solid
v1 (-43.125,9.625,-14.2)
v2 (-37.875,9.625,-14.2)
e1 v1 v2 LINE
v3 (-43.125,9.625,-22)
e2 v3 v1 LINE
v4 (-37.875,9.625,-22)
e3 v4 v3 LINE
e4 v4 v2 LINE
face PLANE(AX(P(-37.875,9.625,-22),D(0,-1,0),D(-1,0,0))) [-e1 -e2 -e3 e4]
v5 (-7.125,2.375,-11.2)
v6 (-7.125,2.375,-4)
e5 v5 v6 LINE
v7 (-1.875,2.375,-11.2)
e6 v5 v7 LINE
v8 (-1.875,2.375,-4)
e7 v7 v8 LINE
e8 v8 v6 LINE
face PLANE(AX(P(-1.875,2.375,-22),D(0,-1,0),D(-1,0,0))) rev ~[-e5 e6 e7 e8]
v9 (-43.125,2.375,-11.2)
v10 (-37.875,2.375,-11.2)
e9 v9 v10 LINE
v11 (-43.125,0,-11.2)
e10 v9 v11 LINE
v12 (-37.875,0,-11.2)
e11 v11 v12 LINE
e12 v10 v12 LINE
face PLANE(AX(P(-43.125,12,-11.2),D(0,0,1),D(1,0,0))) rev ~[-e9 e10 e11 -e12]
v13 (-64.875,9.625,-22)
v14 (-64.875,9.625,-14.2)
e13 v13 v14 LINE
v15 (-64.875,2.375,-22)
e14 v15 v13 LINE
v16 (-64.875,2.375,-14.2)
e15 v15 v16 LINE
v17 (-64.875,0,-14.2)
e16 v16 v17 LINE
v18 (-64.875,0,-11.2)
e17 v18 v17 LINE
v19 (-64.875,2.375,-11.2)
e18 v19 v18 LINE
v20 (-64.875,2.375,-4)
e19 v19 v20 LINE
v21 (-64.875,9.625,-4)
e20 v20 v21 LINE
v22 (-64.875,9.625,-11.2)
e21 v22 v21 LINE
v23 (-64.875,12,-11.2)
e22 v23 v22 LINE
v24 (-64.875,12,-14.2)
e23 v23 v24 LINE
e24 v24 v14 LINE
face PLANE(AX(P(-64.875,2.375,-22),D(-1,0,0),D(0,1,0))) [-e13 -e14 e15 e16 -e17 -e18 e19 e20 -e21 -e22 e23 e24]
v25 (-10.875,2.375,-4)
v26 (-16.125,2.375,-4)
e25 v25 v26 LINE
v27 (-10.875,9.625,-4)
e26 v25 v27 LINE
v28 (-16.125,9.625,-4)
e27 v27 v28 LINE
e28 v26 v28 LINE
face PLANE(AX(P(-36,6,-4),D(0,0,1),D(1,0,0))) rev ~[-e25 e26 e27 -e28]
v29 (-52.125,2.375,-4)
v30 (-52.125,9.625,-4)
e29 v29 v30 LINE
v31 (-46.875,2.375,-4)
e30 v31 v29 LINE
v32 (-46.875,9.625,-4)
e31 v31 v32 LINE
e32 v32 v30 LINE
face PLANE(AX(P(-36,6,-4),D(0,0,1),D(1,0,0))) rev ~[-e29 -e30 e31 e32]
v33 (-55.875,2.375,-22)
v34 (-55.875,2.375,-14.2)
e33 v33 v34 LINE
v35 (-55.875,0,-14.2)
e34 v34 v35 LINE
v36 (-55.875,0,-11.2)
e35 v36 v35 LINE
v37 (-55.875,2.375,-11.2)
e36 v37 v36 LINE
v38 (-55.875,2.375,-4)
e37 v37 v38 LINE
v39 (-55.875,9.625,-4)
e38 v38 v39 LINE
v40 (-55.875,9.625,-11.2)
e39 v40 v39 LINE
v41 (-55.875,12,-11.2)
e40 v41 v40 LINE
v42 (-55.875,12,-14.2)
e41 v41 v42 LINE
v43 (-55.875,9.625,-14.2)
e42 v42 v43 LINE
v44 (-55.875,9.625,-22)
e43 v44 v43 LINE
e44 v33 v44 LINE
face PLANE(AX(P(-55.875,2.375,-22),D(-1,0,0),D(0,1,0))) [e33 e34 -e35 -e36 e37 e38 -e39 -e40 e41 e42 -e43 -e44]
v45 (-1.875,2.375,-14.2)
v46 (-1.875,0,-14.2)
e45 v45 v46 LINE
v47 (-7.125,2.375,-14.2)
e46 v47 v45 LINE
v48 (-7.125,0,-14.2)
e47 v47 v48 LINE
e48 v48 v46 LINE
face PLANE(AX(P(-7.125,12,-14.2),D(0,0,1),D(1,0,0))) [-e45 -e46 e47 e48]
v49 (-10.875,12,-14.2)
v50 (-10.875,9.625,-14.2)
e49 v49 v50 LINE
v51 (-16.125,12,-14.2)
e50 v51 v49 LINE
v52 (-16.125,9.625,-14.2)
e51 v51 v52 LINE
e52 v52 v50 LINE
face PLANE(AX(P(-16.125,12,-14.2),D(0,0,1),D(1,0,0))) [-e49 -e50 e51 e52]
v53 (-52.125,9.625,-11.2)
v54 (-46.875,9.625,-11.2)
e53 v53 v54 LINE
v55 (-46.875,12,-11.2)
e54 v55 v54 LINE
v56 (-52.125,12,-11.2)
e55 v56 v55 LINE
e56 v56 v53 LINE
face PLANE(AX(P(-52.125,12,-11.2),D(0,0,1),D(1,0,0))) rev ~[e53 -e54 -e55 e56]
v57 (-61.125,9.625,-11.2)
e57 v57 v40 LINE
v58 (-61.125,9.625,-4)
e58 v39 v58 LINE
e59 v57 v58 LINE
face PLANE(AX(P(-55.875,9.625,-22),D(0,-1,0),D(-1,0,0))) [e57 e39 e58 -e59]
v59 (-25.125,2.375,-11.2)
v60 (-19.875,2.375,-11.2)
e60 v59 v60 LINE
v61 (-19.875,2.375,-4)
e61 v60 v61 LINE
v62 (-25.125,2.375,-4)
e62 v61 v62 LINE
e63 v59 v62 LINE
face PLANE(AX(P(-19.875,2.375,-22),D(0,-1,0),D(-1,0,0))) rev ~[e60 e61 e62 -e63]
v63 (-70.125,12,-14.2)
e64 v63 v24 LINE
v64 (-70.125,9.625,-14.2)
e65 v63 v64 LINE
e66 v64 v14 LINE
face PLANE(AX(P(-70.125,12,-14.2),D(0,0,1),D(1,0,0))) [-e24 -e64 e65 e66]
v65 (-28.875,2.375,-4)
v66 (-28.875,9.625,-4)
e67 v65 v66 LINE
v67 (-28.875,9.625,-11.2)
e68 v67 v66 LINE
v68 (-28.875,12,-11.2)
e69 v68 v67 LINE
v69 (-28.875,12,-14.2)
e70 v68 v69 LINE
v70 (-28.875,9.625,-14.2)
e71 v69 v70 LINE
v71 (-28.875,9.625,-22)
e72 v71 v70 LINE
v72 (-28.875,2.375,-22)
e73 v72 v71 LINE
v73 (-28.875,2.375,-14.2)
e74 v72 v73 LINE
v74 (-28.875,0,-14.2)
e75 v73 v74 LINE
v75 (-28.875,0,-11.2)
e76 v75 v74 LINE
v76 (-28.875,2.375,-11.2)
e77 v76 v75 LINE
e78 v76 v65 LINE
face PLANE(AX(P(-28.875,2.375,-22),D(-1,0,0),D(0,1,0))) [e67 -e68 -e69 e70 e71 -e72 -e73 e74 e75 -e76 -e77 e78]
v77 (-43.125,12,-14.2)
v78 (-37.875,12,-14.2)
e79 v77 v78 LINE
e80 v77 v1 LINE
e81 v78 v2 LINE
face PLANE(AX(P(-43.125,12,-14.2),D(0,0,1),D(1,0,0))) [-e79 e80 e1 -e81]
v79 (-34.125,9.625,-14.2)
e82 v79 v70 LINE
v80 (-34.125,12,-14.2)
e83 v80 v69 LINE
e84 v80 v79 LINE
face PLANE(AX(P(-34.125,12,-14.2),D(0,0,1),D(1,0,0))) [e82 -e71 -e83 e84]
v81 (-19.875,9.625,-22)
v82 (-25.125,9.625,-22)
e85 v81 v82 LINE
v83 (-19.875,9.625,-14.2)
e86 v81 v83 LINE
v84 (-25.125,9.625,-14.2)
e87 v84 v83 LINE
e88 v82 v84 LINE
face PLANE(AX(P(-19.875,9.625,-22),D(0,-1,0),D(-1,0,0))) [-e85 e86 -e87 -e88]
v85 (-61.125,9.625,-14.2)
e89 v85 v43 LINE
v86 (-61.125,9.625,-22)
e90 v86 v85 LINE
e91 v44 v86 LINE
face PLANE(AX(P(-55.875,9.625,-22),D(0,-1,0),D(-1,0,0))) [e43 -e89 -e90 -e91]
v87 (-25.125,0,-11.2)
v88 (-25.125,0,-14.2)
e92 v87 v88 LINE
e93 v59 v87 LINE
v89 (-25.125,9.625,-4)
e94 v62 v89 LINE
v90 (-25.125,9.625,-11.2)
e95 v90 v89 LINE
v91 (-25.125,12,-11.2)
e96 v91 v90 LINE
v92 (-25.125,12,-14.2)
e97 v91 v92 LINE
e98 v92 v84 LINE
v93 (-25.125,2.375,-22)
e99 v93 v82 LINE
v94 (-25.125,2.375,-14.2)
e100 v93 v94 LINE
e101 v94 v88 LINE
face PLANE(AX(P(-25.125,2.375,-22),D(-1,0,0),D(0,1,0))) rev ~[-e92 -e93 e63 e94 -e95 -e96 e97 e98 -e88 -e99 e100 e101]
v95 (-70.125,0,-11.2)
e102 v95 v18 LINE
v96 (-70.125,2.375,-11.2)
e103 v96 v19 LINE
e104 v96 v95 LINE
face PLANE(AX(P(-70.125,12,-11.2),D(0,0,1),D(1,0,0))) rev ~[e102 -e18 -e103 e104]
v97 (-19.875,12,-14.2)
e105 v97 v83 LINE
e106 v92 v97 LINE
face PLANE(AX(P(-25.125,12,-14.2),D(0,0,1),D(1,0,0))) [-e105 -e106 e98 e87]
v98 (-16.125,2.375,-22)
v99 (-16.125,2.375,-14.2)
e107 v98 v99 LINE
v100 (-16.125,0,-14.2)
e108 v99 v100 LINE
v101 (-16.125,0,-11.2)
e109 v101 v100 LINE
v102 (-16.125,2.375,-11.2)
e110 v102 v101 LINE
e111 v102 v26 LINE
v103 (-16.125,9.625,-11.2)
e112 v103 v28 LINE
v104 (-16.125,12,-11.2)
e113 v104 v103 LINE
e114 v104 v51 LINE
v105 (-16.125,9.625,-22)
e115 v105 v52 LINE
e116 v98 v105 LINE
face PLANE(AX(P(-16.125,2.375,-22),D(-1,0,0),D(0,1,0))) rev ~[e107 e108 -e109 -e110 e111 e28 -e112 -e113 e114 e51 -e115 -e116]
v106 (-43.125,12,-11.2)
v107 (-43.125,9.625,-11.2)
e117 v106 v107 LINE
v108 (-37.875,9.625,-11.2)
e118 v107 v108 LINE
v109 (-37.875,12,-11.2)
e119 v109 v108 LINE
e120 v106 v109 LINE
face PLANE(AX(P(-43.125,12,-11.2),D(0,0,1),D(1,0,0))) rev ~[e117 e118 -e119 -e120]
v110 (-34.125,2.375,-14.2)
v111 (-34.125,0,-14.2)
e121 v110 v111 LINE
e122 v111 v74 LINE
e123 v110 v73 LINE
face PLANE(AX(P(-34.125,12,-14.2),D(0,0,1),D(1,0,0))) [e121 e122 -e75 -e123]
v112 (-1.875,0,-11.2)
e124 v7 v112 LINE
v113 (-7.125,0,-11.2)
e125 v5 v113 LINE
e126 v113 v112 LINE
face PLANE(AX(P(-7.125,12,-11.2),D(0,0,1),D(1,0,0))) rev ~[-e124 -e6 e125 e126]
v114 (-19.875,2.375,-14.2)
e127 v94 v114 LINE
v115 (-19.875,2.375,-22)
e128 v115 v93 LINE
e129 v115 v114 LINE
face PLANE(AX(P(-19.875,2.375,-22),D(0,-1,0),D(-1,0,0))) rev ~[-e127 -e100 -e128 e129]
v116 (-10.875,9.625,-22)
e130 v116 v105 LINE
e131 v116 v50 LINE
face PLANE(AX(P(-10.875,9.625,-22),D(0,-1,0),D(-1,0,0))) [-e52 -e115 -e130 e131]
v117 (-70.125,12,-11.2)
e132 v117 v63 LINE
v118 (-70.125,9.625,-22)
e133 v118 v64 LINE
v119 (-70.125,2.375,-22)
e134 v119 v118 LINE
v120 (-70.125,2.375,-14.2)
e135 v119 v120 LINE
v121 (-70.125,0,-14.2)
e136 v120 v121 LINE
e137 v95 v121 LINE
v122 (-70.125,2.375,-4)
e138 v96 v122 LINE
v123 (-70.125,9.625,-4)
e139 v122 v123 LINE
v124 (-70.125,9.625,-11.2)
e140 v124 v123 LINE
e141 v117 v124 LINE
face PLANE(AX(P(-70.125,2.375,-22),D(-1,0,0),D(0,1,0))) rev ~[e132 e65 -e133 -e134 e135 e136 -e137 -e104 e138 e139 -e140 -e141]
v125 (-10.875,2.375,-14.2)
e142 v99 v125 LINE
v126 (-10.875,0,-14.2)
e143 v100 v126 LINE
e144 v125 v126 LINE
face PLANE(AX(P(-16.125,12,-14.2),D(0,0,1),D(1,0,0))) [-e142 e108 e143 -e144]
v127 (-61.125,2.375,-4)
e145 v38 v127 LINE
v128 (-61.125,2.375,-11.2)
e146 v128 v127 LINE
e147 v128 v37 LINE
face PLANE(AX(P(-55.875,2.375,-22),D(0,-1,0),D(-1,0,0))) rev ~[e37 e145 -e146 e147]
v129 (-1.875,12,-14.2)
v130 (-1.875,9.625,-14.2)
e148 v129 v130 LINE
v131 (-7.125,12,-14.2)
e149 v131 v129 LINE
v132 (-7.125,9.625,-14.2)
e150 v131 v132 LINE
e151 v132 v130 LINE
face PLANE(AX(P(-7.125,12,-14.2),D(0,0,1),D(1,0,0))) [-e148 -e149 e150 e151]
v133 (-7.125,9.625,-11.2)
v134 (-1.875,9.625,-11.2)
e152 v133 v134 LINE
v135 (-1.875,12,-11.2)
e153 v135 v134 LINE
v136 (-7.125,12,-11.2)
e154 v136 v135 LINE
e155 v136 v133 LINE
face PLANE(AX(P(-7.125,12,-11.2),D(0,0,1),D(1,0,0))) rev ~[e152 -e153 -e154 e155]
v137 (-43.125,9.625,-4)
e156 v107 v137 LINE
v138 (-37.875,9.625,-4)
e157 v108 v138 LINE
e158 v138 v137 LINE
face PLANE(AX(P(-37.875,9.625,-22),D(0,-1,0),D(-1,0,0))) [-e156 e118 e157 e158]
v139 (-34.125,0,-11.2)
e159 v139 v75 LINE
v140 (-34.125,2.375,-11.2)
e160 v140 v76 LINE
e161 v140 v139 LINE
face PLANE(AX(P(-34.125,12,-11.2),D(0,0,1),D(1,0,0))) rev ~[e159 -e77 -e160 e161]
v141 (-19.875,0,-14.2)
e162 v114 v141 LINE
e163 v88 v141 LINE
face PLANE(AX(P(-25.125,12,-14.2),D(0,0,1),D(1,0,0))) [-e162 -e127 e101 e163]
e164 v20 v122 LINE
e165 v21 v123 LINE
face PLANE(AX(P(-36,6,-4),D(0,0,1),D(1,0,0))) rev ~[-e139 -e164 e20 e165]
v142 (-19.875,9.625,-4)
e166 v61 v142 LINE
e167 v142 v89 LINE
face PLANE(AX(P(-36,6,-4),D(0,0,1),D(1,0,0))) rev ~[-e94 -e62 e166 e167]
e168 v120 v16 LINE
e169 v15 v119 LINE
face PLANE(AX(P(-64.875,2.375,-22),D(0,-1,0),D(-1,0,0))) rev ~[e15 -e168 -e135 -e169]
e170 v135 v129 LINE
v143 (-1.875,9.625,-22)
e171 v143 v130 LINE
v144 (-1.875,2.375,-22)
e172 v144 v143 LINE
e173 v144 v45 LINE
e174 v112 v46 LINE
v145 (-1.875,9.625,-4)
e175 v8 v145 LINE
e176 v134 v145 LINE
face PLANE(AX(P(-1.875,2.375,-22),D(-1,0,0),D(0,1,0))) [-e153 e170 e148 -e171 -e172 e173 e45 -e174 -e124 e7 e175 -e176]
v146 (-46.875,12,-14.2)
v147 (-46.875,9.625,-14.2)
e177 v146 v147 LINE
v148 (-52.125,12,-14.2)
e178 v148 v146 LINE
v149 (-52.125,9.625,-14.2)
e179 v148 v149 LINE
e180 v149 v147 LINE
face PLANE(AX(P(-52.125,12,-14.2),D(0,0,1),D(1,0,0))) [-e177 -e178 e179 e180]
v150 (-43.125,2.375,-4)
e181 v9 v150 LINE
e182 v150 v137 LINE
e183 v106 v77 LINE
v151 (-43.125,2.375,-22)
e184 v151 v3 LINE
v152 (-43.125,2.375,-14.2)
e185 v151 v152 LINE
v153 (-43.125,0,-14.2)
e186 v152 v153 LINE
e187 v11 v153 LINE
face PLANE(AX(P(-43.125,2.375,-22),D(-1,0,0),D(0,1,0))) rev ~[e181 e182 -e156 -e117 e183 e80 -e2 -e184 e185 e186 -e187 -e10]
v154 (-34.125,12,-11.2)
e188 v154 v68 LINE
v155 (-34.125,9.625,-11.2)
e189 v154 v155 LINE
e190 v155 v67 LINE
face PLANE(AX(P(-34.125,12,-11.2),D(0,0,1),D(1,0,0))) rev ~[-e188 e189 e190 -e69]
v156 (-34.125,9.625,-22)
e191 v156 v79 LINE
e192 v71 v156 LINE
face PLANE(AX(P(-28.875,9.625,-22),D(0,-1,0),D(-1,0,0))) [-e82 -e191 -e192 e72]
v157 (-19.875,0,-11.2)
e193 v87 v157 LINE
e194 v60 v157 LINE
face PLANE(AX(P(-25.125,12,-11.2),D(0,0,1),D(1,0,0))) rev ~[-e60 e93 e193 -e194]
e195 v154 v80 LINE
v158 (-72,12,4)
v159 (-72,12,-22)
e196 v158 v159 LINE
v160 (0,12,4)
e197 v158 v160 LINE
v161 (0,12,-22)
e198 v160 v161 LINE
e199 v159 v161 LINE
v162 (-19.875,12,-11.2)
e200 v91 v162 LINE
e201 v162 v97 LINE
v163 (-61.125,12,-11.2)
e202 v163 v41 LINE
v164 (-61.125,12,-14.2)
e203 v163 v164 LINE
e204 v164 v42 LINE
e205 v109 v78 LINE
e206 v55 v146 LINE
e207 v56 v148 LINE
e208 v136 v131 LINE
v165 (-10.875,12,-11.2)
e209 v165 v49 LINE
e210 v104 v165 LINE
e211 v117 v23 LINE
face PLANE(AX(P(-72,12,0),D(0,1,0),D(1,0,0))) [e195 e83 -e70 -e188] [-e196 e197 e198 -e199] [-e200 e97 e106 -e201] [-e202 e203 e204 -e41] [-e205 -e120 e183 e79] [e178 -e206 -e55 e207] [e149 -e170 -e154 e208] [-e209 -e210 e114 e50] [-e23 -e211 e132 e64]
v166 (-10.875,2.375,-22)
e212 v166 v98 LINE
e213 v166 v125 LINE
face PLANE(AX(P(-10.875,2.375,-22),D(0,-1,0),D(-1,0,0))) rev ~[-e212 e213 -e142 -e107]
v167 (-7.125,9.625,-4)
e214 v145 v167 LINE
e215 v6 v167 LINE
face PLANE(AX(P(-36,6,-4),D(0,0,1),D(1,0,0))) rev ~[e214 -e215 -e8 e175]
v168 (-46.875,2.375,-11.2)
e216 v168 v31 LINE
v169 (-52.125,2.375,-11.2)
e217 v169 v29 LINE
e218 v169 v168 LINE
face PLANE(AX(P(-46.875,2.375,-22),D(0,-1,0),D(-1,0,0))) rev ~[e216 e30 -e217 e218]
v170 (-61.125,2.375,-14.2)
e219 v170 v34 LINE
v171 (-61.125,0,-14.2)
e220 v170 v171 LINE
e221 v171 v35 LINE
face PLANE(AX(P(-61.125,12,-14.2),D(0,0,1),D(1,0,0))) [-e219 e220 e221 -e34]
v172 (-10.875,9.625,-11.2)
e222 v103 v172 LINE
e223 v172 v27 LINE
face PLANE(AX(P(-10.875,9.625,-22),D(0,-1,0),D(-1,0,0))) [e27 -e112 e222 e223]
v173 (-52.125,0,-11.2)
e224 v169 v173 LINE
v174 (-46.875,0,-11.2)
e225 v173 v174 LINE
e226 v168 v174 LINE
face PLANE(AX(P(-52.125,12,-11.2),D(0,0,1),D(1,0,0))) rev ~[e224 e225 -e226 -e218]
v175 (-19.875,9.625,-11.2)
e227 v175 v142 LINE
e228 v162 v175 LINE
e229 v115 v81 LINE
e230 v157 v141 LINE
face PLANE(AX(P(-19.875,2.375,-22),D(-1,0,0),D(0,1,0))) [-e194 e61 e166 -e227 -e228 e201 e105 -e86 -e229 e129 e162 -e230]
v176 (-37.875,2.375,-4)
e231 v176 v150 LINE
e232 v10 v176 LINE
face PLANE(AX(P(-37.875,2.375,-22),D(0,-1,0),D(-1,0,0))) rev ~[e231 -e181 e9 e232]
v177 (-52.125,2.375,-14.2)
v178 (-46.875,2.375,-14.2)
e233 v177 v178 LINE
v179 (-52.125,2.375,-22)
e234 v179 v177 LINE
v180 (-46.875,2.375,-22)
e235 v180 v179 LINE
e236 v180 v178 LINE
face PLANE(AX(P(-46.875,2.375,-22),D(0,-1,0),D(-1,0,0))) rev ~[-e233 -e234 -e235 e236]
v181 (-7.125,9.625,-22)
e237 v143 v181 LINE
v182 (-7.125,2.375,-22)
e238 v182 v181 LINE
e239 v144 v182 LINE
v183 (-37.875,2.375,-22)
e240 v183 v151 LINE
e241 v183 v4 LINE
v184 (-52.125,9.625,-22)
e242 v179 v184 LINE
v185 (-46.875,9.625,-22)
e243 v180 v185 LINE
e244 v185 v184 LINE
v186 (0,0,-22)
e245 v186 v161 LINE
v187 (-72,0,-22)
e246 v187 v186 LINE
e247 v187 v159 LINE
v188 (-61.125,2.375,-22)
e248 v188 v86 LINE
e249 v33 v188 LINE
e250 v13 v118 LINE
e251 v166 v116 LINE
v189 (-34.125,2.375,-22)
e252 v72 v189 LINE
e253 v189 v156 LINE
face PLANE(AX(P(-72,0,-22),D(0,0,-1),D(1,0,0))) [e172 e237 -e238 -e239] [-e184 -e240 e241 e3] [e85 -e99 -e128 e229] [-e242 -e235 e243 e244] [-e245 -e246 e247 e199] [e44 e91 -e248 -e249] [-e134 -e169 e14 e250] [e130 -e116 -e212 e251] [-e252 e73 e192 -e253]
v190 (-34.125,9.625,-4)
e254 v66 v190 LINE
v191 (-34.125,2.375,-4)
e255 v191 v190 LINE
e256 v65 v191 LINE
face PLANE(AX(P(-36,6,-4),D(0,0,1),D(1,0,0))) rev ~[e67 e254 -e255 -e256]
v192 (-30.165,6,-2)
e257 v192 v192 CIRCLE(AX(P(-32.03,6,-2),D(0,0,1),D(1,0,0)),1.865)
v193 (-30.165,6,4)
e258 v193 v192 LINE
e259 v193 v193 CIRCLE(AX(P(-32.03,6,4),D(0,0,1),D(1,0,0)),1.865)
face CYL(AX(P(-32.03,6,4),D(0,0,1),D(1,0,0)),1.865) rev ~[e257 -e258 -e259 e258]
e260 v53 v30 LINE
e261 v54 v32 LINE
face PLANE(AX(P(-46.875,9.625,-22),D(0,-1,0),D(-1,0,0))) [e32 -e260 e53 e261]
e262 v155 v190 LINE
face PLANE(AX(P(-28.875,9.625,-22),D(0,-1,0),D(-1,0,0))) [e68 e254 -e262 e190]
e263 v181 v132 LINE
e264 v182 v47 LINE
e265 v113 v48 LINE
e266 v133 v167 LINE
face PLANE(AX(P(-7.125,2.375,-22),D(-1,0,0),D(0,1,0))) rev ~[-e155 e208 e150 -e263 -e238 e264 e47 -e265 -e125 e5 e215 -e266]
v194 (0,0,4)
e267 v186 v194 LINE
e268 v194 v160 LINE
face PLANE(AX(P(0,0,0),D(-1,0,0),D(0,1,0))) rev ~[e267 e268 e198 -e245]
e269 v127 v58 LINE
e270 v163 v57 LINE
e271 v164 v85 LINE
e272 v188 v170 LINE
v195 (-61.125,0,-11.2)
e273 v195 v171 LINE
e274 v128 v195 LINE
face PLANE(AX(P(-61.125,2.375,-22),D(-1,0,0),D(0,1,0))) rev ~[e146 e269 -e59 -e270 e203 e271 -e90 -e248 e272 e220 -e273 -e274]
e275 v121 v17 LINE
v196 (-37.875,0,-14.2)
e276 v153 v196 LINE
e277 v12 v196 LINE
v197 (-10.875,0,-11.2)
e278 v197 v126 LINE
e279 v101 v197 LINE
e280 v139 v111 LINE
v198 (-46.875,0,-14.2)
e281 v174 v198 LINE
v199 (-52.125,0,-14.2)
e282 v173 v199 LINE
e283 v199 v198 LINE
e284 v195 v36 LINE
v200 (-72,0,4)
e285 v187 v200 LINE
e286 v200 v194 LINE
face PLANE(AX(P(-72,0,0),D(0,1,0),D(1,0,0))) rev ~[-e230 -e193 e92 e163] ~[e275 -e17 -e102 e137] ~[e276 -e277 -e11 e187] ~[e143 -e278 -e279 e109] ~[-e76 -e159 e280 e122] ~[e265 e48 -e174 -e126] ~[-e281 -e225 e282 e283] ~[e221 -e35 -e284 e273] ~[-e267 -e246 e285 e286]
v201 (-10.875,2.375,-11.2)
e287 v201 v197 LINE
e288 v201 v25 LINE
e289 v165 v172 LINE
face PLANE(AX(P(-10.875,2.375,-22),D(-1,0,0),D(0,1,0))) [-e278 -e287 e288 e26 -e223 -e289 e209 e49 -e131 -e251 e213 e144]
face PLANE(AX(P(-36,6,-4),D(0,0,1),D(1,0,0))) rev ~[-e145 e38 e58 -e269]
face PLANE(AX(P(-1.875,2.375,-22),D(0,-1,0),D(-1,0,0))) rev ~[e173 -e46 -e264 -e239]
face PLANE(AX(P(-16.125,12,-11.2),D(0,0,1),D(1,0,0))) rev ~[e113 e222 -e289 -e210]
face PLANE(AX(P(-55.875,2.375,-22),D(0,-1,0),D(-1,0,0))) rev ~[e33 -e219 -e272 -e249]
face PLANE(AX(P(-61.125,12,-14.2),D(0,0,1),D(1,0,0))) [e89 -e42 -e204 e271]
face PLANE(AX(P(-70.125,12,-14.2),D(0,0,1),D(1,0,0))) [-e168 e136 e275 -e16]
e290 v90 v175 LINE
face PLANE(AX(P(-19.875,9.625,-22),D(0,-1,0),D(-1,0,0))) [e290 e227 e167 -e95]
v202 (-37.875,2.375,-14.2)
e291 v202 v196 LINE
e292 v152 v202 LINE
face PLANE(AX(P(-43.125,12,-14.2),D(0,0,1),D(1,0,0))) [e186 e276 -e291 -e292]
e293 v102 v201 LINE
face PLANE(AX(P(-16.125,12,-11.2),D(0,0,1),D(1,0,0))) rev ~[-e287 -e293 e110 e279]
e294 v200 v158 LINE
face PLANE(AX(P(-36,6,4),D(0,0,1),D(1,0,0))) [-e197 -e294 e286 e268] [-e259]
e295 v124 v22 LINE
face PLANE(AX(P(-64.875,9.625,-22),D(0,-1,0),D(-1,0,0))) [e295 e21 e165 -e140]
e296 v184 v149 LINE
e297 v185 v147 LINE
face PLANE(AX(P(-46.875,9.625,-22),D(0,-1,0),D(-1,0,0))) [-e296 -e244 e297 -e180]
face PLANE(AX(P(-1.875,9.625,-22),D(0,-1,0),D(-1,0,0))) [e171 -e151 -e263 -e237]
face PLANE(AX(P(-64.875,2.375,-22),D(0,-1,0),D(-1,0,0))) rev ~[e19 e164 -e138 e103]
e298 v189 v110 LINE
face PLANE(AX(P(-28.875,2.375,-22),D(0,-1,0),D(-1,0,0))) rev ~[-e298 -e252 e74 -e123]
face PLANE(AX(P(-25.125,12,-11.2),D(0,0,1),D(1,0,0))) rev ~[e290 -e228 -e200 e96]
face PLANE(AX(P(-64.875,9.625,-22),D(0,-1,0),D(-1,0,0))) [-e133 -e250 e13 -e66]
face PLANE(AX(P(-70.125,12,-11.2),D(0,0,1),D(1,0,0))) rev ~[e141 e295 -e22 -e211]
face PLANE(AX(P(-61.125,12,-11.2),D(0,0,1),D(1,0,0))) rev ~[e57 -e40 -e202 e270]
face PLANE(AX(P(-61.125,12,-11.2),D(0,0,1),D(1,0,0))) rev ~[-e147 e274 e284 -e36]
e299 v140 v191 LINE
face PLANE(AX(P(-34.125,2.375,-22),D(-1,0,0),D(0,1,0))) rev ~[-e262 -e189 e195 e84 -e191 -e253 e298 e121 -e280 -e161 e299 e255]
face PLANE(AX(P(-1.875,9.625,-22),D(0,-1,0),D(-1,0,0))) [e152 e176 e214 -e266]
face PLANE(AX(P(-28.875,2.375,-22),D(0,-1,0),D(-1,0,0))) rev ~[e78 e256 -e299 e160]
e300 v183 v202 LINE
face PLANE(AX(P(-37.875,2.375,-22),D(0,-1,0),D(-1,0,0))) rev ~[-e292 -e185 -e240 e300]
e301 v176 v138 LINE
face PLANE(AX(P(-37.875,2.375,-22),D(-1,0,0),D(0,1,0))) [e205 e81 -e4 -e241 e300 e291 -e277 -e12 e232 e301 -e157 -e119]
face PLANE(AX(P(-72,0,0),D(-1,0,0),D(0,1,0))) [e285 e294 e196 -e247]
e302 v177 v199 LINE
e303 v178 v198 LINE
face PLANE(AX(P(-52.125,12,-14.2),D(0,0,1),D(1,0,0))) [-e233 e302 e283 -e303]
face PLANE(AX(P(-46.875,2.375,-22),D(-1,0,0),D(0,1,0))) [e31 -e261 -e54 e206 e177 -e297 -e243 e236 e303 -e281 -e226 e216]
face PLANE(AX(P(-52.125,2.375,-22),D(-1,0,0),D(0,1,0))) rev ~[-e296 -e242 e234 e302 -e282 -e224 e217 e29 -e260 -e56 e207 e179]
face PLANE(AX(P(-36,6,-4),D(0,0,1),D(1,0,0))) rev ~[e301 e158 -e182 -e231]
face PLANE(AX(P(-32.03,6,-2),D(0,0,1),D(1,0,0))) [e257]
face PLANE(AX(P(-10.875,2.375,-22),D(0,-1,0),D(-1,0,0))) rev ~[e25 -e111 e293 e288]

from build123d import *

# Parameters (mm, degrees)
SKETCH1_W           = 72
SKETCH1_H           = 22
BOSS_EXTRUDE1_DEPTH = 12
SKETCH2_W           = 5.25
SKETCH2_H           = 3
CUT_EXTRUDE1_DEPTH  = 77.23647421
LPATTERN2_COUNT     = 8
LPATTERN2_PITCH     = 9
SKETCH3_W           = 5.25
SKETCH3_H           = 7.25
CUT_EXTRUDE2_DEPTH  = 77.23647421
LPATTERN3_COUNT     = 8
LPATTERN3_PITCH     = 9
SKETCH4_W           = 72
SKETCH4_H           = 12
BOSS_EXTRUDE2_DEPTH = 4
SKETCH11_W          = 72
SKETCH11_H          = 12
BOSS_EXTRUDE3_DEPTH = 4
SKETCH12_R          = 1.865
CUT_EXTRUDE9_DEPTH  = 6


with BuildPart() as part:
    # Sketch1 → Boss-Extrude1 (new body)
    with BuildSketch(Plane(origin=(0, 0, 0), x_dir=(1, 0, 0), z_dir=(0, 1, 0))):
        with Locations((-36, 11)):
            Rectangle(SKETCH1_W, SKETCH1_H)
    extrude(amount=BOSS_EXTRUDE1_DEPTH)

    # Sketch2 → Cut-Extrude1 (cut, through all)
    with BuildSketch(Plane(origin=(0, 12, 0), x_dir=(1, 0, 0), z_dir=(0, 1, 0))):
        with Locations((-67.5, 12.7)):
            Rectangle(SKETCH2_W, SKETCH2_H)
    cut_extrude1 = extrude(amount=-CUT_EXTRUDE1_DEPTH, mode=Mode.SUBTRACT)

    # LPattern2: Cut-Extrude1 ×8
    with Locations(*[(i * LPATTERN2_PITCH, 0, 0) for i in range(1, LPATTERN2_COUNT)]):
        add(cut_extrude1, mode=Mode.SUBTRACT)

    # Sketch3 → Cut-Extrude2 (cut, through all)
    with BuildSketch(Plane(origin=(0, 0, -22), x_dir=(-1, 0, 0), z_dir=(0, 0, -1))):
        with Locations((67.5, 6)):
            Rectangle(SKETCH3_W, SKETCH3_H)
    cut_extrude2 = extrude(amount=-CUT_EXTRUDE2_DEPTH, mode=Mode.SUBTRACT)

    # LPattern3: Cut-Extrude2 ×8
    with Locations(*[(i * LPATTERN3_PITCH, 0, 0) for i in range(1, LPATTERN3_COUNT)]):
        add(cut_extrude2, mode=Mode.SUBTRACT)

    # Sketch4 → Boss-Extrude2 (add)
    with BuildSketch(Plane.XY):
        with Locations((-36, 6)):
            Rectangle(SKETCH4_W, SKETCH4_H)
    extrude(amount=-BOSS_EXTRUDE2_DEPTH)

    # Sketch11 → Boss-Extrude3 (add)
    with BuildSketch(Plane.XY):
        with Locations((-36, 6)):
            Rectangle(SKETCH11_W, SKETCH11_H)
    extrude(amount=BOSS_EXTRUDE3_DEPTH)

    # Sketch12 → Cut-Extrude9 (cut)
    with BuildSketch(Plane.XY.offset(4)):
        with Locations((-32.03, 6)):
            Circle(SKETCH12_R)
    extrude(amount=-CUT_EXTRUDE9_DEPTH, mode=Mode.SUBTRACT)


solid = part.part
